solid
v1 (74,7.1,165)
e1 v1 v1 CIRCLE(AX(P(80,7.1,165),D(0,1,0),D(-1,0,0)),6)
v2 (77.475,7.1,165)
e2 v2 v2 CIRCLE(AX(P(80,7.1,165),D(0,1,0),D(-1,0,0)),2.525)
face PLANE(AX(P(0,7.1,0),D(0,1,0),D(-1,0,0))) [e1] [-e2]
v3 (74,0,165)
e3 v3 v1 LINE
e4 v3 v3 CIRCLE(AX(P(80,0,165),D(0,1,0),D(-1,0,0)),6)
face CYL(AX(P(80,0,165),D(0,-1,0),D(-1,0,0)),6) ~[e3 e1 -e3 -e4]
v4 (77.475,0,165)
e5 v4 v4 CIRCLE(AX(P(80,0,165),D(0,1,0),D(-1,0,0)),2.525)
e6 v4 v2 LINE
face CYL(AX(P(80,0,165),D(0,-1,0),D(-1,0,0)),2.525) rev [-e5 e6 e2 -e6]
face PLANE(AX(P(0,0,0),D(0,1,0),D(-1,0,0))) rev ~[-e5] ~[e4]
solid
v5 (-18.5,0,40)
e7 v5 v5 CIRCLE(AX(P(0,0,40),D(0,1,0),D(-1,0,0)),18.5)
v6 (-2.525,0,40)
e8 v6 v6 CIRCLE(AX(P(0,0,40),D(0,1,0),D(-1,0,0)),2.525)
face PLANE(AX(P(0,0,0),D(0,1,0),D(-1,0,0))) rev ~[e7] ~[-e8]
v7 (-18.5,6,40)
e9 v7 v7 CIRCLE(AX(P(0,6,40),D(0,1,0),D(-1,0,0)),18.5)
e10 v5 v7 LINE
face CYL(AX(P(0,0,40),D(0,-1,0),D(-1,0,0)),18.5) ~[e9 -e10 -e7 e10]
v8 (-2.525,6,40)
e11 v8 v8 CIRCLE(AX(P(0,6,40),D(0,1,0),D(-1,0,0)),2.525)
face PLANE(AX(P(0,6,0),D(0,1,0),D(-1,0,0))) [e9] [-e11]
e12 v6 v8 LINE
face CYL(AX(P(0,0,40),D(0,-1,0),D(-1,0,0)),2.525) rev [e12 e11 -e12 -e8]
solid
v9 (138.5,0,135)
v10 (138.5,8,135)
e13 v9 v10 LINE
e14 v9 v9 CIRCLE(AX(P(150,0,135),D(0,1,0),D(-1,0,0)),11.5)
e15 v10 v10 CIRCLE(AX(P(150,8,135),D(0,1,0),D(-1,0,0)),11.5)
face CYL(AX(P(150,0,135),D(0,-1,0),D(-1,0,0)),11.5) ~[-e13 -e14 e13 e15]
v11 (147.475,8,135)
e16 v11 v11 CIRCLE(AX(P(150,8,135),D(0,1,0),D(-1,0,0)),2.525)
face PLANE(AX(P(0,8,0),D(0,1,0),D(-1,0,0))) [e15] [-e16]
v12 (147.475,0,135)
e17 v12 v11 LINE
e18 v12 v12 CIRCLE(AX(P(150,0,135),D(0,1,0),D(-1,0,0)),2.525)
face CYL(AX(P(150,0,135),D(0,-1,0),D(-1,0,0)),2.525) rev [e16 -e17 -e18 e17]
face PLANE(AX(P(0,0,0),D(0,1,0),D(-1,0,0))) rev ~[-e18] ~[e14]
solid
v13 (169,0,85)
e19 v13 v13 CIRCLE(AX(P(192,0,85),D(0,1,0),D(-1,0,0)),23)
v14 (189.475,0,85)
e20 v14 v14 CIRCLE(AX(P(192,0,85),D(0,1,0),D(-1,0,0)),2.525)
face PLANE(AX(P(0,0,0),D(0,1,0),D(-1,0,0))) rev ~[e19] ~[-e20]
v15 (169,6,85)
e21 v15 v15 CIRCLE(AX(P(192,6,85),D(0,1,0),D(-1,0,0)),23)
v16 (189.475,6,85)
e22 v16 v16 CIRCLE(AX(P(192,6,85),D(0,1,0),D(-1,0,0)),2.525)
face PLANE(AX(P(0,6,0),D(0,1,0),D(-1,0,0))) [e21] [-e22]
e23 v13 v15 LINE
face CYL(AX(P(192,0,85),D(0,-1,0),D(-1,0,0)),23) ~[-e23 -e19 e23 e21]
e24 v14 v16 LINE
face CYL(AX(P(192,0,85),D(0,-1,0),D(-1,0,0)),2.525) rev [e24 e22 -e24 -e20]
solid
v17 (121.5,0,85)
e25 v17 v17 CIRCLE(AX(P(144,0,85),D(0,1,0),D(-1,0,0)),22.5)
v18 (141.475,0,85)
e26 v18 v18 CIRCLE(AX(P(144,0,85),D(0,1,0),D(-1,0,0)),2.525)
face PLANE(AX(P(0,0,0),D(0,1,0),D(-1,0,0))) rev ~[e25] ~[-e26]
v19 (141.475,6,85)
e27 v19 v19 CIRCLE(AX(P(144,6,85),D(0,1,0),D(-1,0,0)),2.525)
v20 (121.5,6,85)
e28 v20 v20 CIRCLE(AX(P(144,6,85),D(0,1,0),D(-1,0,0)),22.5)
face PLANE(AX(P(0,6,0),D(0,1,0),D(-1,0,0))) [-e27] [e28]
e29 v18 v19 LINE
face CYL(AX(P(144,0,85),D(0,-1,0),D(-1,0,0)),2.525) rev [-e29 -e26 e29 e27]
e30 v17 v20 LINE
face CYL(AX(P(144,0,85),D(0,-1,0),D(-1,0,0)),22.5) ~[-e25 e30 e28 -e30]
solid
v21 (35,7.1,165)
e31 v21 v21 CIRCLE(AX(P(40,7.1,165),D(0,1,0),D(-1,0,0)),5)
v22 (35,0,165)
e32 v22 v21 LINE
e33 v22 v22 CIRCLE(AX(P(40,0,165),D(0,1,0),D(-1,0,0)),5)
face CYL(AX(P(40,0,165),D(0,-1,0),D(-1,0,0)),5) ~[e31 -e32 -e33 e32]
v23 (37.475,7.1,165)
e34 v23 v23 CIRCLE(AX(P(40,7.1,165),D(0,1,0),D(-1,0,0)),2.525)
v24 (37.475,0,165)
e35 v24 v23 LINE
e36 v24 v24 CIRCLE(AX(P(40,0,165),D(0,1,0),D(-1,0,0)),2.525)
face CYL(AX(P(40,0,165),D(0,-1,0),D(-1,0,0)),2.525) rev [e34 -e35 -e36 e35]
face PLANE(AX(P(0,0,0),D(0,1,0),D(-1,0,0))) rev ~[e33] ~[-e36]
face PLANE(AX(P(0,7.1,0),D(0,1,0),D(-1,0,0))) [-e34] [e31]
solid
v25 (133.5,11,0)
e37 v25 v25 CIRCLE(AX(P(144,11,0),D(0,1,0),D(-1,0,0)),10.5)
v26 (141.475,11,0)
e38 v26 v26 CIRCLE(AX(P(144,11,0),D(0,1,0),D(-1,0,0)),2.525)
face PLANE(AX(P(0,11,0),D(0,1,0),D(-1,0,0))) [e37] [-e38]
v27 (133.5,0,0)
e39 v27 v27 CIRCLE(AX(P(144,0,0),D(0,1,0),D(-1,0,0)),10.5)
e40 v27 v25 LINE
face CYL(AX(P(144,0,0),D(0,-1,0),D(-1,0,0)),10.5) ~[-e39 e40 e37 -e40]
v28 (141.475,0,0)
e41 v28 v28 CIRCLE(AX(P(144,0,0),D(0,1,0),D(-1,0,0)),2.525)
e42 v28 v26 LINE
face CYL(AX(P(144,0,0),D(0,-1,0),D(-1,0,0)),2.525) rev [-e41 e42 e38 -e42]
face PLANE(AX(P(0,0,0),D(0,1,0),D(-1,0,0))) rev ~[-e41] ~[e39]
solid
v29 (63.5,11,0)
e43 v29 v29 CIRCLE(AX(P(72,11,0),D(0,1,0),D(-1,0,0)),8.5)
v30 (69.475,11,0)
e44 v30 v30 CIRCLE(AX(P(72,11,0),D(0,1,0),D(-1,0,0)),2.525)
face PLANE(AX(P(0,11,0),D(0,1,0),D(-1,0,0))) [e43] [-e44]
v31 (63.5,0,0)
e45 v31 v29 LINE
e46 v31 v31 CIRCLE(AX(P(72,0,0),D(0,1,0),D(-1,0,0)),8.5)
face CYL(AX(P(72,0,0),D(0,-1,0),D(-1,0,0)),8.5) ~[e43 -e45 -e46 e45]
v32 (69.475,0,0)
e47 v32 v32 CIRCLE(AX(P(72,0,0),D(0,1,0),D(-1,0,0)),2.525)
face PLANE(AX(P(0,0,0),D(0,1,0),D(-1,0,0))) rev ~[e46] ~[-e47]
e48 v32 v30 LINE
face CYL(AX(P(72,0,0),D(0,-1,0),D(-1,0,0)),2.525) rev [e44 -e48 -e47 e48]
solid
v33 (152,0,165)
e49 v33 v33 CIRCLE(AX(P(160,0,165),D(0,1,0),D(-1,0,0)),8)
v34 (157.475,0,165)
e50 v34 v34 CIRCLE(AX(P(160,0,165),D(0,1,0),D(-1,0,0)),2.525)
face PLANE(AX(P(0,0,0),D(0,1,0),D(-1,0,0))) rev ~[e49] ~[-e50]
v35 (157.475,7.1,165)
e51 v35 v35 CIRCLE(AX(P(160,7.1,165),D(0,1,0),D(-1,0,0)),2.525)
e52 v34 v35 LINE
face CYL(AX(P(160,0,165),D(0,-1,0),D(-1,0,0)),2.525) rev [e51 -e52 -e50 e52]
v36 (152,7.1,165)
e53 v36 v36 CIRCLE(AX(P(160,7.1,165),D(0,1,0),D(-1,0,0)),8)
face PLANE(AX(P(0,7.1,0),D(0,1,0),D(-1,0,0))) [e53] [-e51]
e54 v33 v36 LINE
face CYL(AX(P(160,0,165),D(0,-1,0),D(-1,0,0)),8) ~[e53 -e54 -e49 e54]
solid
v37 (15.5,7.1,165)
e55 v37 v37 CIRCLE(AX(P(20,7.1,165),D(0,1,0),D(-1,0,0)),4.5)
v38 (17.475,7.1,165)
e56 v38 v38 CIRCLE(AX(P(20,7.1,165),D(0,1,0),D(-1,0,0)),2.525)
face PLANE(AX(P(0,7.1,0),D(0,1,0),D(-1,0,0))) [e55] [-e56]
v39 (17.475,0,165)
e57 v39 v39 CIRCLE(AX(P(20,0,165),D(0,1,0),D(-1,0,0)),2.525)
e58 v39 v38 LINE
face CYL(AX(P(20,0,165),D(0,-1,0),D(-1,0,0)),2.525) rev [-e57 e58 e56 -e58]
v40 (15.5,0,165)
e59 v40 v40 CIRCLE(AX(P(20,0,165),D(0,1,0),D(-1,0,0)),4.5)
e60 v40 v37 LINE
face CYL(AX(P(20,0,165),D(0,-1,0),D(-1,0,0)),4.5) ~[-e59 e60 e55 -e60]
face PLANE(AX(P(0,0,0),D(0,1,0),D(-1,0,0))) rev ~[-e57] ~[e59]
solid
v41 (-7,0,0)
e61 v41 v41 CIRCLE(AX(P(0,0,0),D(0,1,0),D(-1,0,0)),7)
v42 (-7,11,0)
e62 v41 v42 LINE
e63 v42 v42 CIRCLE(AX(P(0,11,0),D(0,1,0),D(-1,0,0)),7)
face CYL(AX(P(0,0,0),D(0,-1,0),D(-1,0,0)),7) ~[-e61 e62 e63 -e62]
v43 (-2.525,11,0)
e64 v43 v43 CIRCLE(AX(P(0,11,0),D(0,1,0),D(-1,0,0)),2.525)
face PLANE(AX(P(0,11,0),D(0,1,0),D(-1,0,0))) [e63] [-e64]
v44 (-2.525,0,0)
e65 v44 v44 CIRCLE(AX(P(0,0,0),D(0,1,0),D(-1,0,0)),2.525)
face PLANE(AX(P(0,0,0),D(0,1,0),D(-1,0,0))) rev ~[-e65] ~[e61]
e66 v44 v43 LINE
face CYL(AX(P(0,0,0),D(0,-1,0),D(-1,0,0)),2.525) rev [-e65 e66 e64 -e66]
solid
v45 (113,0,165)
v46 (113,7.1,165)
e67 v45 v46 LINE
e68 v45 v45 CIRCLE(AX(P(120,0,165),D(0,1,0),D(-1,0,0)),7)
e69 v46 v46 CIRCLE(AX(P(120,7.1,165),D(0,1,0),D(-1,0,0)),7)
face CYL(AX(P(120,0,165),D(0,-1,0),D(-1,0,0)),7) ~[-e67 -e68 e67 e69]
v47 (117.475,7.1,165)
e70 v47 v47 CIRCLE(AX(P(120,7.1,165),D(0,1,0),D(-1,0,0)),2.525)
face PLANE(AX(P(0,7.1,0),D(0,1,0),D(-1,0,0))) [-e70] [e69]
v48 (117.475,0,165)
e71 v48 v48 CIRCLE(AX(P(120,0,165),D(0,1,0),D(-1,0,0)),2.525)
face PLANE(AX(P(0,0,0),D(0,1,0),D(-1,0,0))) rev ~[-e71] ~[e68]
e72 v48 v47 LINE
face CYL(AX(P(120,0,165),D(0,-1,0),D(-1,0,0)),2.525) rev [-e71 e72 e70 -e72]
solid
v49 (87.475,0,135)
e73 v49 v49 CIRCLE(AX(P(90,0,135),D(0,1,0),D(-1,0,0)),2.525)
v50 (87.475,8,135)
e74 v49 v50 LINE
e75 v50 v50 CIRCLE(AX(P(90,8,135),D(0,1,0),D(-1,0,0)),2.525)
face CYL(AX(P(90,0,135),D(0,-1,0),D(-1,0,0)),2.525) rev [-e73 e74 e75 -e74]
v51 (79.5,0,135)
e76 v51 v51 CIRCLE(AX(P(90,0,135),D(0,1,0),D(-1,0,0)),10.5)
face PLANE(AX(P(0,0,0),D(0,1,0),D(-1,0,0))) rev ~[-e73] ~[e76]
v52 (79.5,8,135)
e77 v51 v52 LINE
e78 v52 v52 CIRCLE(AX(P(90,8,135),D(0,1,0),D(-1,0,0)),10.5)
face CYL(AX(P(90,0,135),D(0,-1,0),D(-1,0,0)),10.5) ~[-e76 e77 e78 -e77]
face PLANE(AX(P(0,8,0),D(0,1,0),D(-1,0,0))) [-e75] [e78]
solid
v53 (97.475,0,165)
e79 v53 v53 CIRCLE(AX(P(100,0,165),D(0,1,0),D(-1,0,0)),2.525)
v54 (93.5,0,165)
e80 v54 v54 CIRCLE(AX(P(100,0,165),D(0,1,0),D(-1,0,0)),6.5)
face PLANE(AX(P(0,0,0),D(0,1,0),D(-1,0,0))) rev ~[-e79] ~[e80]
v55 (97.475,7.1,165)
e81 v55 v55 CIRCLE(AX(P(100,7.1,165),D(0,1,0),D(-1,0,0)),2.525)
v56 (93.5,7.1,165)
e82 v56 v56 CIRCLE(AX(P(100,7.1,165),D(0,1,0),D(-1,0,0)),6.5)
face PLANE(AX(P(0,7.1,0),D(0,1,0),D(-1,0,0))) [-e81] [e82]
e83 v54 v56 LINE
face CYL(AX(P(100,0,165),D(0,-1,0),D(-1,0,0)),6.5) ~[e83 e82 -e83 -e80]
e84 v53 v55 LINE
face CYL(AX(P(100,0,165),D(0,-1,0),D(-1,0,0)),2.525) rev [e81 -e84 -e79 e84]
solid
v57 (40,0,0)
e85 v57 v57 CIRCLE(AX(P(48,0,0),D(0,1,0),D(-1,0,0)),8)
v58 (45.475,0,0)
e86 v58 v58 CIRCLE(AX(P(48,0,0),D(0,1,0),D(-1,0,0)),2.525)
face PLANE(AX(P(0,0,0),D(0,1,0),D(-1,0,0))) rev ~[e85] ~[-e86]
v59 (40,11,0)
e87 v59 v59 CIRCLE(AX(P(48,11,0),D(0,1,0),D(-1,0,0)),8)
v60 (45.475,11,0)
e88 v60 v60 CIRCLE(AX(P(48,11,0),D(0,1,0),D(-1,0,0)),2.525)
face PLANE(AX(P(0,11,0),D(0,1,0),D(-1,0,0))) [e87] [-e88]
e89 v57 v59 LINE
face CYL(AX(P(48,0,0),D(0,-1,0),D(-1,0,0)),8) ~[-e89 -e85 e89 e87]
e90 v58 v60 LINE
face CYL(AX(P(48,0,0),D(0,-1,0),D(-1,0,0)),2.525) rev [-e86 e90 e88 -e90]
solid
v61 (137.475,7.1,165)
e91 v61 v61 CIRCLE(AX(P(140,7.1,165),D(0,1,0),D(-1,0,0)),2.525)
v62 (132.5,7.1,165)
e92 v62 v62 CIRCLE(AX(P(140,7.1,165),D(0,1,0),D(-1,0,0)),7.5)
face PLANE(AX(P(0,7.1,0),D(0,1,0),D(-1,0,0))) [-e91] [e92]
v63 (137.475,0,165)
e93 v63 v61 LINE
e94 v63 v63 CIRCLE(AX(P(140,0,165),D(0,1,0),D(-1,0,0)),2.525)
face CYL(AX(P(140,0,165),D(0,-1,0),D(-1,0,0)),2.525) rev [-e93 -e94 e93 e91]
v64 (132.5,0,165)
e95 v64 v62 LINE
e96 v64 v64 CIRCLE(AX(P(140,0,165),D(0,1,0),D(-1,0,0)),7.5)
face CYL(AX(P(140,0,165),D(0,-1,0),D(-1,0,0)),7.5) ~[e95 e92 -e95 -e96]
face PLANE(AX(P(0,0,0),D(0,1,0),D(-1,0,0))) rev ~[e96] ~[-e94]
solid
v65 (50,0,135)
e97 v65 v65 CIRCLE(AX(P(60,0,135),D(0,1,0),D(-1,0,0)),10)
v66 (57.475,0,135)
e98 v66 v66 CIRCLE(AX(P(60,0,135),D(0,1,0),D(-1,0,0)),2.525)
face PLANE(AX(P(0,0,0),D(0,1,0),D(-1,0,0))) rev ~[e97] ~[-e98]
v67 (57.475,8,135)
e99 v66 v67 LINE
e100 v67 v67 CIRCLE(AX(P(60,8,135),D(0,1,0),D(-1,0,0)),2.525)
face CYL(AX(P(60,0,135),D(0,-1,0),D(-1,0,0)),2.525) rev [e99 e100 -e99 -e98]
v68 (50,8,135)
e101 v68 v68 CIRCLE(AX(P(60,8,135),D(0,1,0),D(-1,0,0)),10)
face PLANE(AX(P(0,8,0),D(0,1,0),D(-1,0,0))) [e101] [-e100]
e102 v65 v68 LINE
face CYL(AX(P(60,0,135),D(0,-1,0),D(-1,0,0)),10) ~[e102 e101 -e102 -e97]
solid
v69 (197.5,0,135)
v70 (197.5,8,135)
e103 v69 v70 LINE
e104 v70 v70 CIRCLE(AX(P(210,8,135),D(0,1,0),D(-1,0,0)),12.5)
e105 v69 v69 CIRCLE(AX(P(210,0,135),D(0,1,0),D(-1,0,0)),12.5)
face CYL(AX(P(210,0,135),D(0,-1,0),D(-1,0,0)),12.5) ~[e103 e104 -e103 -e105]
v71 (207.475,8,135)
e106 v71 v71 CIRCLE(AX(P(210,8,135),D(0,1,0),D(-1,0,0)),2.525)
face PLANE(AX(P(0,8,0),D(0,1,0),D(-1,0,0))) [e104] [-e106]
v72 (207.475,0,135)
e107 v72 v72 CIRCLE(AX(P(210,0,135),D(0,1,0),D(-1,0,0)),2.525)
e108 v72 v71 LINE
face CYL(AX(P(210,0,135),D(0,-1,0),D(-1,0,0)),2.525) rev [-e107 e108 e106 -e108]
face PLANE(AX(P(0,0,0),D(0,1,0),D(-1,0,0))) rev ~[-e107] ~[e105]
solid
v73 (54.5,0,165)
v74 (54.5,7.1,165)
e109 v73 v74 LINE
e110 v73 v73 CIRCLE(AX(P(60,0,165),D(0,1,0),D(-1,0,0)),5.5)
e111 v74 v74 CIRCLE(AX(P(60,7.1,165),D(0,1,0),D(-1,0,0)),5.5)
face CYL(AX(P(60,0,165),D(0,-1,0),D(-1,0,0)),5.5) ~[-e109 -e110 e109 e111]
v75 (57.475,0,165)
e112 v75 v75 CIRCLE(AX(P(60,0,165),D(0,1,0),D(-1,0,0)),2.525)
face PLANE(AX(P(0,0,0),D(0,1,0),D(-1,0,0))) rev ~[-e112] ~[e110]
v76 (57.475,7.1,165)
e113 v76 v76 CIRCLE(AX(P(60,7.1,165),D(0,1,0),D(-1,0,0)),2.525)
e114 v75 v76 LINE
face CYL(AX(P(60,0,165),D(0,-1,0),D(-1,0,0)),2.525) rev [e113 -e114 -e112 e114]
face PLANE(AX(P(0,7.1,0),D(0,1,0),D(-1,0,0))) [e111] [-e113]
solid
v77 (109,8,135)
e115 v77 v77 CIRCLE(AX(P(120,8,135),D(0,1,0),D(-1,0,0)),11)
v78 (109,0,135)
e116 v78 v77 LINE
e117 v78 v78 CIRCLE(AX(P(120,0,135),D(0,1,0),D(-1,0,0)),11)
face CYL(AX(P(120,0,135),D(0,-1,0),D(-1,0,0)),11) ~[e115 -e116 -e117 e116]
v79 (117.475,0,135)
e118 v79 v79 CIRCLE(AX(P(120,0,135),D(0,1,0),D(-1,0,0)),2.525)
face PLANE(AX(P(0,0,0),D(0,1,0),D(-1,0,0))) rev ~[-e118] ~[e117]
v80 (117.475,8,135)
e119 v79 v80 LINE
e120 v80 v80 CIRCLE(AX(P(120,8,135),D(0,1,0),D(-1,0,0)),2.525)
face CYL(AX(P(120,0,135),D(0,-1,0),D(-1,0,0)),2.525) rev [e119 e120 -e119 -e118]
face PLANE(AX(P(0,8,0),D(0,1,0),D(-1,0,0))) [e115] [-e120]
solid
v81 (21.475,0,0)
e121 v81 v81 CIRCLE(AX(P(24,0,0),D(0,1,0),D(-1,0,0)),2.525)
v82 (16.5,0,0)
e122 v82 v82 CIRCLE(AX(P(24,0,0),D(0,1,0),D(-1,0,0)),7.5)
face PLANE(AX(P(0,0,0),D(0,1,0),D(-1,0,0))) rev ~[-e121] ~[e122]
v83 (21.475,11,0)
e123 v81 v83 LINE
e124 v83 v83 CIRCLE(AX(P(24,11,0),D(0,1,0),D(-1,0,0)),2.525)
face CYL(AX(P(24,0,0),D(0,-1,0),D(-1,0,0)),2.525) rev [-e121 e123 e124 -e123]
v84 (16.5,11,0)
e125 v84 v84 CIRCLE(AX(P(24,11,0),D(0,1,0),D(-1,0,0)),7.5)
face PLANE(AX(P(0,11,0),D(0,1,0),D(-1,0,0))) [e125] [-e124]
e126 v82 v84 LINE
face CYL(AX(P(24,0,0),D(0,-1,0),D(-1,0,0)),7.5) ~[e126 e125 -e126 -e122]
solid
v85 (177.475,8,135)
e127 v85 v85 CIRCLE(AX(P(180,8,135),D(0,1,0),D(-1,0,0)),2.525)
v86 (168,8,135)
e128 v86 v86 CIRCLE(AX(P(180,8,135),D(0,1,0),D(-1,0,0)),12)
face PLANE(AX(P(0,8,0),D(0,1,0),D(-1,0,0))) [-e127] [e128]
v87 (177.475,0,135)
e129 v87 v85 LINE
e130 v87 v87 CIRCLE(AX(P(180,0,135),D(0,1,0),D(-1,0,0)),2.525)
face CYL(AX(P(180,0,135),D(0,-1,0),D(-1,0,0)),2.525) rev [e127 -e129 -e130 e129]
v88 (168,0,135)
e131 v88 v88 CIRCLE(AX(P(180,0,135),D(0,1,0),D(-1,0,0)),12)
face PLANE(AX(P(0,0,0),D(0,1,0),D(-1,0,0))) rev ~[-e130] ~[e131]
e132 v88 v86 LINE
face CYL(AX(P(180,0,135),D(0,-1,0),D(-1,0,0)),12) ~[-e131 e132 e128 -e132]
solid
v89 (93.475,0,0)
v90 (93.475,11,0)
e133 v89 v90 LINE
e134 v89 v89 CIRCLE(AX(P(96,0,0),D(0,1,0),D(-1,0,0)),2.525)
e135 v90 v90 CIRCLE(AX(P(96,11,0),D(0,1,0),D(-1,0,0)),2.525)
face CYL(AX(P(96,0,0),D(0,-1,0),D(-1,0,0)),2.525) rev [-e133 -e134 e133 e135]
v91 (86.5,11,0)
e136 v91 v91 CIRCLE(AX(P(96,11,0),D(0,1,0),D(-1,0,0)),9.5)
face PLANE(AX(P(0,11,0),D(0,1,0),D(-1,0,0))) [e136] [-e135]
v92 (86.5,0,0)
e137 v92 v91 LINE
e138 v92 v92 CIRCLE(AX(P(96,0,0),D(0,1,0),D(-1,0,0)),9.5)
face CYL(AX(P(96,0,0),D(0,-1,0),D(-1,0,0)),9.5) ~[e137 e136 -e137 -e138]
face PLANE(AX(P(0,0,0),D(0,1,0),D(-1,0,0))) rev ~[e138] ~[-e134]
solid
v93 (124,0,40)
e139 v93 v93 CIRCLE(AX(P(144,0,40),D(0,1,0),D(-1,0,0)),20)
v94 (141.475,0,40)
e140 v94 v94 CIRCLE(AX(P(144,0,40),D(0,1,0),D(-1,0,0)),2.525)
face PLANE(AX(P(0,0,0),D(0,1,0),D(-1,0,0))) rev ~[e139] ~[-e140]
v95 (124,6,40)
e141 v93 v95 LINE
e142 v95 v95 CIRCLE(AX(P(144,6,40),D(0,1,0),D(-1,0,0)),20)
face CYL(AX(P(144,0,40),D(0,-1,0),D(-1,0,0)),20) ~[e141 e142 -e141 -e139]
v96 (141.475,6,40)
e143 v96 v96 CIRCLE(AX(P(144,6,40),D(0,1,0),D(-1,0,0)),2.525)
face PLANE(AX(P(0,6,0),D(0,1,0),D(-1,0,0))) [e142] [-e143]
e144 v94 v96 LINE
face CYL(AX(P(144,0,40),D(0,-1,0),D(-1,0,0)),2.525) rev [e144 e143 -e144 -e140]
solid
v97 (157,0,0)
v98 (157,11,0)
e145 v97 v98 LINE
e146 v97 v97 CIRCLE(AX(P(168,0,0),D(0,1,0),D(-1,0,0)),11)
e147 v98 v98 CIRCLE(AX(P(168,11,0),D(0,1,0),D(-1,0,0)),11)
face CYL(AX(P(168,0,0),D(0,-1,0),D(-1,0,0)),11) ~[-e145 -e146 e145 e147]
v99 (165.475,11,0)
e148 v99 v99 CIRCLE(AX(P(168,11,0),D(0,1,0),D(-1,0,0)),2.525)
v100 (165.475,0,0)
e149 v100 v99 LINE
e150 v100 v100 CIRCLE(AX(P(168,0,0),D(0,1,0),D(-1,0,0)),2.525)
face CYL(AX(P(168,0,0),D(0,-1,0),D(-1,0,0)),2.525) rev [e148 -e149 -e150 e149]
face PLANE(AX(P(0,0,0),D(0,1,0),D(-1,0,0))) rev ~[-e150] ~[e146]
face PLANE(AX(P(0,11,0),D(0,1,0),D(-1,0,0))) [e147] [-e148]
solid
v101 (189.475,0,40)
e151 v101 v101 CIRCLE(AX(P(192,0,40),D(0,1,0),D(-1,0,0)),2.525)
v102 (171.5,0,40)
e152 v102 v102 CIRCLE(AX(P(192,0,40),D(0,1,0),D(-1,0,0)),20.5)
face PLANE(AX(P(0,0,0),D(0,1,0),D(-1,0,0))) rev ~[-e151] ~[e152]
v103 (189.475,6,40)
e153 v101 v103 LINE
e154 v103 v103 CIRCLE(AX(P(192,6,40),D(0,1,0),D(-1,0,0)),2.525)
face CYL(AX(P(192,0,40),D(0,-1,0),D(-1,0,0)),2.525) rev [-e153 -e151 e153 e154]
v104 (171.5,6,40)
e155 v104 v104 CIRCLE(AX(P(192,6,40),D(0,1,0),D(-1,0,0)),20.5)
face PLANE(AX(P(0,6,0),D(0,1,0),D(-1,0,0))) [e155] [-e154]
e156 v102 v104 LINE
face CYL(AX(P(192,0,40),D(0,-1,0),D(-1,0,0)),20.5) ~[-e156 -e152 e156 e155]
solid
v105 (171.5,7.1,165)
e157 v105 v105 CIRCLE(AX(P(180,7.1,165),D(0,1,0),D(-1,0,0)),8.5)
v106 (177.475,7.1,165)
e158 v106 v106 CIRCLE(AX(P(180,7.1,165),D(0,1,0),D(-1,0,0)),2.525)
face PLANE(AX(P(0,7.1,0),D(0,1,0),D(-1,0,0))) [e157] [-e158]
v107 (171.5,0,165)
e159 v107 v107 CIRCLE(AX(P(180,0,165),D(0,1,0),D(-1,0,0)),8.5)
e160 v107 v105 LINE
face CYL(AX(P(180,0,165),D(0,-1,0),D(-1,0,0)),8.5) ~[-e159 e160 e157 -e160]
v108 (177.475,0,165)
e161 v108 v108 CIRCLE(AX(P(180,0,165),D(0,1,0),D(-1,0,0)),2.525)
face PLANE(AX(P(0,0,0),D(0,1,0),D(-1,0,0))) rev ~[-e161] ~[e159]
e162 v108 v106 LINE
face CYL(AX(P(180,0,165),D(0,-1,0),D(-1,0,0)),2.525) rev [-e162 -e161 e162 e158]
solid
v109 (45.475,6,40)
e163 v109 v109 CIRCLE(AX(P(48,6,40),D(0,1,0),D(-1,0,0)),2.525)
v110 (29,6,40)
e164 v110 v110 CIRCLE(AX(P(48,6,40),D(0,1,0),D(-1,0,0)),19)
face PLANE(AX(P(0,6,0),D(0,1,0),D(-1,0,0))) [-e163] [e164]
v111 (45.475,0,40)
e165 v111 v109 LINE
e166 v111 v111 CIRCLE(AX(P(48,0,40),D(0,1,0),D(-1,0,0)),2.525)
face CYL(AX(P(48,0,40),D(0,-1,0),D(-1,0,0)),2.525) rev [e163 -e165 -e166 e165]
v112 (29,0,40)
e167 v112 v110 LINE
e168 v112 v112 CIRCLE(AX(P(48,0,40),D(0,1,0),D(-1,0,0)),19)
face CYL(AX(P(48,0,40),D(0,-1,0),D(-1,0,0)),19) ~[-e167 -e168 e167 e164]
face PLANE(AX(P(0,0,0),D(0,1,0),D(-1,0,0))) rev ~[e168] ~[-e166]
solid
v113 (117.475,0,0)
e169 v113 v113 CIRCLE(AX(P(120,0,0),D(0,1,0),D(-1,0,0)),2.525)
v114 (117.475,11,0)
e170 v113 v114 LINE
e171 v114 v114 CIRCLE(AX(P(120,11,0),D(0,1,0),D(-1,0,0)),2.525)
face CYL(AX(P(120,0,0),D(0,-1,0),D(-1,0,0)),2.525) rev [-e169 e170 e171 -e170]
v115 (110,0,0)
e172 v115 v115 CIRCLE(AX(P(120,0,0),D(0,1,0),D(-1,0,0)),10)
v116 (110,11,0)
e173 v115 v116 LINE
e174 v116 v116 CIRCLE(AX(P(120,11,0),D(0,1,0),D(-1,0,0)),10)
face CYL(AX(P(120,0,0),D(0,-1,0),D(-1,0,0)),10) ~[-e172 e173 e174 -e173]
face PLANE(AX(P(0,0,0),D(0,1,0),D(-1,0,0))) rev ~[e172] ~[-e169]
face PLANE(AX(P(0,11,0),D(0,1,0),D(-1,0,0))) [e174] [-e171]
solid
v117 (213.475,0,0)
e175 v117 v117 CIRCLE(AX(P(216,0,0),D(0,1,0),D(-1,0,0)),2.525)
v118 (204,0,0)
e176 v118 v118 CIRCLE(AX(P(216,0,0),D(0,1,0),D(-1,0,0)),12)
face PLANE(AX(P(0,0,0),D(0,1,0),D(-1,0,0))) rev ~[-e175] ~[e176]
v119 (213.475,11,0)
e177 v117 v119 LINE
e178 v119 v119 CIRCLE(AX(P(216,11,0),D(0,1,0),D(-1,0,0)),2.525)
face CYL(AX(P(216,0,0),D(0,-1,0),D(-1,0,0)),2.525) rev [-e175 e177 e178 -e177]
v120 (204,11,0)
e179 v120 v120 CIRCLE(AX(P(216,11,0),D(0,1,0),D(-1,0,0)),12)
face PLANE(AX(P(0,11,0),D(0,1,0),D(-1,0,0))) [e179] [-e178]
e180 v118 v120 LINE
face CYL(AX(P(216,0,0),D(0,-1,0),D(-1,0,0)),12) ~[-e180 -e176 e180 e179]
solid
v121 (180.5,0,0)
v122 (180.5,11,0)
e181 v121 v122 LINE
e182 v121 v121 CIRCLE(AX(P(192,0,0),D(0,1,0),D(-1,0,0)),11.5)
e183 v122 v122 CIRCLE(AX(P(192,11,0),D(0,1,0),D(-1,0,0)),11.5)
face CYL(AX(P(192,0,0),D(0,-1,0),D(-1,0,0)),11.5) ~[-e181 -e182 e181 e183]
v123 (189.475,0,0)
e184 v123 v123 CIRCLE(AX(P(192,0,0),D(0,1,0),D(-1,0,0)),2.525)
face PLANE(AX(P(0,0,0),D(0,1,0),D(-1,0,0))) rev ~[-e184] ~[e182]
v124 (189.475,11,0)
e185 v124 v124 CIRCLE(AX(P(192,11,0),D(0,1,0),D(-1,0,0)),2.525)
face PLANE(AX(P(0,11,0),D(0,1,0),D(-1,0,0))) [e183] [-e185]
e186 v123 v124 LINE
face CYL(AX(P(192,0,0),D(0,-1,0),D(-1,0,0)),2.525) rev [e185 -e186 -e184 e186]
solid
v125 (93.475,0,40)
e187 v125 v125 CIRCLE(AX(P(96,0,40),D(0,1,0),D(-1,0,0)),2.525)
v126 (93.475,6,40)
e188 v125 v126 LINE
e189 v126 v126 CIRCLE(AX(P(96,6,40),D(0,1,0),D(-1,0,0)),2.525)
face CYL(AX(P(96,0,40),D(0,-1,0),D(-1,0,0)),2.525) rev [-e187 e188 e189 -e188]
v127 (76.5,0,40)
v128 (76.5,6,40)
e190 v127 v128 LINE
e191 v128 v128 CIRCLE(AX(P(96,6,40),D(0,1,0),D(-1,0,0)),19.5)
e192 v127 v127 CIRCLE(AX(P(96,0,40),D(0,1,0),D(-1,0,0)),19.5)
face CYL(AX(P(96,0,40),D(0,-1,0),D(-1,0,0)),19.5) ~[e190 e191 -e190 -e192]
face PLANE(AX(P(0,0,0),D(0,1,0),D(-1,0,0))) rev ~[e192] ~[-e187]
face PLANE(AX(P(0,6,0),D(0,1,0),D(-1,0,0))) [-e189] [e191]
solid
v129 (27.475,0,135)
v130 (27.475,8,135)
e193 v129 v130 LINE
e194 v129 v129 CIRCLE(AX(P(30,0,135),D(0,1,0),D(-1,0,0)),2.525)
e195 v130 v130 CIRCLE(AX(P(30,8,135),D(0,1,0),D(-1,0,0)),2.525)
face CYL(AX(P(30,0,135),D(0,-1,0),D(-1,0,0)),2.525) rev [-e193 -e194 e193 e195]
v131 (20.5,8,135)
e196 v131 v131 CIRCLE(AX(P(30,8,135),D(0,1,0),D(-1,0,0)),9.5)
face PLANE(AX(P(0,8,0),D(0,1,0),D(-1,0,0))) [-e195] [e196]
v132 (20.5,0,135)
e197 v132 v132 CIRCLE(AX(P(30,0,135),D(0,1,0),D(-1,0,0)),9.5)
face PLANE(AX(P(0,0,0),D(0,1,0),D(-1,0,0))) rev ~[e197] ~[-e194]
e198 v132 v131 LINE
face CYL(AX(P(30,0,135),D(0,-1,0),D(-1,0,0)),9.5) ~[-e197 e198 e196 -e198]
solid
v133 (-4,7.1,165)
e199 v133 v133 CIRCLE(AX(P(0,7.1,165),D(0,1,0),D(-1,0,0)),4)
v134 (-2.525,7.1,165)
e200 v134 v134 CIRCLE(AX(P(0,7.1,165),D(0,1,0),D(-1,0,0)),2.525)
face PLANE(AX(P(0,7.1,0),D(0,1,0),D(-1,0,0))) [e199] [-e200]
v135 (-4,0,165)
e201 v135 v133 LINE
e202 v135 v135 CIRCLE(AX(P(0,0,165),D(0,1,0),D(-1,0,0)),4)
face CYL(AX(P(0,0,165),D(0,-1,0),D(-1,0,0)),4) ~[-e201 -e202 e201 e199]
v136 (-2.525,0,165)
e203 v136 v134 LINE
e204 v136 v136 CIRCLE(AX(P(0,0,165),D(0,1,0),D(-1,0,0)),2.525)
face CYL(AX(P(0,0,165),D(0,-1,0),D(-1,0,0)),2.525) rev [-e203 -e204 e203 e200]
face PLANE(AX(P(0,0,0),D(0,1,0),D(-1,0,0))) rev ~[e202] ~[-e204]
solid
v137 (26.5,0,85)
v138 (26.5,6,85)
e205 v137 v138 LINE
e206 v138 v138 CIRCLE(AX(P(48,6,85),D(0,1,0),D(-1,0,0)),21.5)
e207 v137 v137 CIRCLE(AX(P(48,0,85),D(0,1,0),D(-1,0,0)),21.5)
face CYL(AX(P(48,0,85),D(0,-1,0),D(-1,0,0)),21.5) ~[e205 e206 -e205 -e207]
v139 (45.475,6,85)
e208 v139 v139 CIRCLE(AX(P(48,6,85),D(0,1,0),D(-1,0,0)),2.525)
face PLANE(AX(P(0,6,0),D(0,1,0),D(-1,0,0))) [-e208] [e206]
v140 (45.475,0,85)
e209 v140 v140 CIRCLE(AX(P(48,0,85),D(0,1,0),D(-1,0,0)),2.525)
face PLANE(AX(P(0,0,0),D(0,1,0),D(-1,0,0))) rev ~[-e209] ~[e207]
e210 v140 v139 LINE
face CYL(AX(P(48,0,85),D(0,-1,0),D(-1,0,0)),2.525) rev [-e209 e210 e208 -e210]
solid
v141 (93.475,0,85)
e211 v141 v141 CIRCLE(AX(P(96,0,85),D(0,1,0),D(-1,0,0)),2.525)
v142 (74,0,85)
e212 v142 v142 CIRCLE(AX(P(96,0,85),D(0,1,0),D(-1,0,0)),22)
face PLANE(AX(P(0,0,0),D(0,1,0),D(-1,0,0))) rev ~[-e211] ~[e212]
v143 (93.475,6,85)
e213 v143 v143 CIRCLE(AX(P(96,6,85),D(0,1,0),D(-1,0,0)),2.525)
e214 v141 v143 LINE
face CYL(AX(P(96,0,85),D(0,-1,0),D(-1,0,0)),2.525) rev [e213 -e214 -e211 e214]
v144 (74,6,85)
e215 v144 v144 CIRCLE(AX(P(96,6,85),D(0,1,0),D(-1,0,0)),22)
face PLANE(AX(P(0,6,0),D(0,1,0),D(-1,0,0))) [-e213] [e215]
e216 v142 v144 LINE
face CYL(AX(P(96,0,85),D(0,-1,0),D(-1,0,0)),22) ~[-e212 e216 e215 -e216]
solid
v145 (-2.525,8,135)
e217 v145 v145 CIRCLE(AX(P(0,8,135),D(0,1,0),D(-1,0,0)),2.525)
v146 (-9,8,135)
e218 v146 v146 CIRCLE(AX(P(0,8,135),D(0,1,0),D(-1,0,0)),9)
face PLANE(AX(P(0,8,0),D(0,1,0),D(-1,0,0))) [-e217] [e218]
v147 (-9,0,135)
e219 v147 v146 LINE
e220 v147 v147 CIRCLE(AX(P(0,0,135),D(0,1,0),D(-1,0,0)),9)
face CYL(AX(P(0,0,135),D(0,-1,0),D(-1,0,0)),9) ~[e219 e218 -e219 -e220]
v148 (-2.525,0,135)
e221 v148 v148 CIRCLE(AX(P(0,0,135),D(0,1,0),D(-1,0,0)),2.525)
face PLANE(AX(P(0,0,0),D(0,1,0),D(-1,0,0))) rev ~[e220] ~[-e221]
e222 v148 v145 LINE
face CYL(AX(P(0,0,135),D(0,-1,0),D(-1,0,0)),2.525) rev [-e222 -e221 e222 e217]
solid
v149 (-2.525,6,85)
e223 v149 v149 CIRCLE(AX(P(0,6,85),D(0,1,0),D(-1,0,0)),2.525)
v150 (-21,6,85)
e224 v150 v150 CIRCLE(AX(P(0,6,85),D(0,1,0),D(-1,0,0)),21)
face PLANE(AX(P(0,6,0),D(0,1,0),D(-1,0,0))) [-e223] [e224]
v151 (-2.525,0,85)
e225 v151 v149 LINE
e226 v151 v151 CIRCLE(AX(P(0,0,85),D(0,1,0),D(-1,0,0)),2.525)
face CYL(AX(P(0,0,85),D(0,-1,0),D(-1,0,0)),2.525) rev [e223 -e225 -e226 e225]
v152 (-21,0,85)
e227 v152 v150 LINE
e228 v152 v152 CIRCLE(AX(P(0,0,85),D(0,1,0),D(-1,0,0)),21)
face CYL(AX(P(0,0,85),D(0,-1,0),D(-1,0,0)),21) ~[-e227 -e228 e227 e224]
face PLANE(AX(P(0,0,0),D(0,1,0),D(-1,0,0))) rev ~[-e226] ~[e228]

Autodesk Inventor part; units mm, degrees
ref_plane "YZ Plane" through (0, 0, 0) normal (1, 0, 0) x (0, 1, 0)
ref_plane "XZ Plane" through (0, 0, 0) normal (0, 1, 0) x (-1, 0, 0)
ref_plane "XY Plane" through (0, 0, 0) normal (0, 0, 1) x (1, 0, 0)
sketch "Sketch1" plane through (0, 0, 0) normal (0, 1, 0) x (-1, 0, 0)
  circle A0 centre (0, 0) radius 2.525
  line L0 (0, 0) -> (-26.9577, 0) construction
  circle A1 centre (-24, 0) radius 2.525
  circle A2 centre (-48, 0) radius 2.525
  circle A3 centre (-72, 0) radius 2.525
  circle A4 centre (-96, 0) radius 2.525
  circle A5 centre (-120, 0) radius 2.525
  circle A6 centre (-144, 0) radius 2.525
  circle A7 centre (-168, 0) radius 2.525
  circle A8 centre (0, 0) radius 7
  circle A9 centre (-24, 0) radius 7.5
  circle A10 centre (-48, 0) radius 8
  circle A11 centre (-72, 0) radius 8.5
  circle A12 centre (-96, 0) radius 9.5
  circle A13 centre (-120, 0) radius 10
  circle A14 centre (-144, 0) radius 10.5
  circle A15 centre (-168, 0) radius 11
  circle A16 centre (-192, 0) radius 2.525
  circle A17 centre (-216, 0) radius 2.525
  circle A18 centre (-192, 0) radius 11.5
  circle A19 centre (-216, 0) radius 12
  circle A20 centre (0, 40) radius 2.525
  circle A21 centre (-48, 40) radius 2.525
  circle A22 centre (-96, 40) radius 2.525
  circle A23 centre (-144, 40) radius 2.525
  circle A24 centre (-192, 40) radius 2.525
  circle A25 centre (0, 40) radius 18.5
  circle A26 centre (-48, 40) radius 19
  circle A27 centre (-96, 40) radius 19.5
  circle A28 centre (-144, 40) radius 20
  circle A29 centre (-192, 40) radius 20.5
  circle A30 centre (0, 135) radius 2.525
  circle A31 centre (-30, 135) radius 2.525
  circle A32 centre (-60, 135) radius 2.525
  circle A33 centre (-90, 135) radius 2.525
  circle A34 centre (-120, 135) radius 2.525
  circle A35 centre (-150, 135) radius 2.525
  circle A36 centre (-180, 135) radius 2.525
  circle A37 centre (-210, 135) radius 2.525
  circle A38 centre (0, 135) radius 9
  circle A39 centre (-30, 135) radius 9.5
  circle A40 centre (-60, 135) radius 10
  circle A41 centre (-90, 135) radius 10.5
  circle A42 centre (-120, 135) radius 11
  circle A43 centre (-150, 135) radius 11.5
  circle A44 centre (-180, 135) radius 12
  circle A45 centre (-210, 135) radius 12.5
  circle A46 centre (0, 165) radius 2.525
  circle A47 centre (-20, 165) radius 2.525
  circle A48 centre (-40, 165) radius 2.525
  circle A49 centre (-60, 165) radius 2.525
  circle A50 centre (-80, 165) radius 2.525
  circle A51 centre (-100, 165) radius 2.525
  circle A52 centre (-120, 165) radius 2.525
  circle A53 centre (-140, 165) radius 2.525
  circle A54 centre (-160, 165) radius 2.525
  circle A55 centre (-180, 165) radius 2.525
  circle A56 centre (0, 165) radius 4
  circle A57 centre (-20, 165) radius 4.5
  circle A58 centre (-40, 165) radius 5
  circle A59 centre (-60, 165) radius 5.5
  circle A60 centre (-80, 165) radius 6
  circle A61 centre (-100, 165) radius 6.5
  circle A62 centre (-120, 165) radius 7
  circle A63 centre (-140, 165) radius 7.5
  circle A64 centre (-160, 165) radius 8
  circle A65 centre (-180, 165) radius 8.5
  line L1 (0, 0) -> (0, 13.0179) construction
  circle A66 centre (0, 85) radius 2.525
  circle A67 centre (-48, 85) radius 2.525
  circle A68 centre (-96, 85) radius 2.525
  circle A69 centre (-144, 85) radius 2.525
  circle A70 centre (-192, 85) radius 2.525
  circle A71 centre (0, 85) radius 21
  circle A72 centre (-48, 85) radius 21.5
  circle A73 centre (-96, 85) radius 22
  circle A74 centre (-144, 85) radius 22.5
  circle A75 centre (-192, 85) radius 23
  dimension "d0" = 5.05
  dimension "d3" = 24
  dimension "d8" = 14
  dimension "d9" = 15
  dimension "d10" = 16
  dimension "d11" = 17
  dimension "d12" = 19
  dimension "d13" = 20
  dimension "d14" = 21
  dimension "d15" = 22
  dimension "d16" = 23
  dimension "d17" = 24
  dimension "d18" = 5.05
  dimension "d19" = 40
  dimension "d22" = 48
  dimension "d27" = 37
  dimension "d28" = 38
  dimension "d29" = 39
  dimension "d30" = 40
  dimension "d31" = 41
  dimension "d38" = 5.05
  dimension "d41" = 30
  dimension "d46" = 18
  dimension "d47" = 19
  dimension "d48" = 20
  dimension "d49" = 21
  dimension "d50" = 22
  dimension "d51" = 23
  dimension "d52" = 24
  dimension "d53" = 25
  dimension "d56" = 30
  dimension "d57" = 5.05
  dimension "d60" = 20
  dimension "d65" = 8
  dimension "d25" = 45
  dimension "d67" = 50
  dimension "d68" = 42
  dimension "d69" = 43
  dimension "d70" = 44
  dimension "d71" = 45
  dimension "d72" = 46
  dimension "d73" = 5.05
  dimension "d74" = 9
  dimension "d75" = 10
  dimension "d76" = 11
  dimension "d77" = 12
  dimension "d78" = 13
  dimension "d79" = 14
  dimension "d80" = 15
  dimension "d81" = 16
  dimension "d82" = 17
extrude "Extrusion1" add sketch "Sketch1" along normal blind 11 contours A8 | A9 | A10 | A11 | A12 | A13 | A14 | A15 | A18 | A19
extrude "Extrusion2" add sketch "Sketch1" along normal blind 6 contours A25 | A26 | A27 | A28 | A29 | A71 | A72 | A73 | A74 | A75
extrude "Extrusion3" add sketch "Sketch1" along normal blind 8 contours A38 | A39 | A40 | A41 | A42 | A43 | A44 | A45
extrude "Extrusion4" add sketch "Sketch1" along normal blind 7.1 contours A56 | A57 | A58 | A59 | A60 | A61 | A62 | A63 | A64 | A65
properties part number "shinrotationblock"
